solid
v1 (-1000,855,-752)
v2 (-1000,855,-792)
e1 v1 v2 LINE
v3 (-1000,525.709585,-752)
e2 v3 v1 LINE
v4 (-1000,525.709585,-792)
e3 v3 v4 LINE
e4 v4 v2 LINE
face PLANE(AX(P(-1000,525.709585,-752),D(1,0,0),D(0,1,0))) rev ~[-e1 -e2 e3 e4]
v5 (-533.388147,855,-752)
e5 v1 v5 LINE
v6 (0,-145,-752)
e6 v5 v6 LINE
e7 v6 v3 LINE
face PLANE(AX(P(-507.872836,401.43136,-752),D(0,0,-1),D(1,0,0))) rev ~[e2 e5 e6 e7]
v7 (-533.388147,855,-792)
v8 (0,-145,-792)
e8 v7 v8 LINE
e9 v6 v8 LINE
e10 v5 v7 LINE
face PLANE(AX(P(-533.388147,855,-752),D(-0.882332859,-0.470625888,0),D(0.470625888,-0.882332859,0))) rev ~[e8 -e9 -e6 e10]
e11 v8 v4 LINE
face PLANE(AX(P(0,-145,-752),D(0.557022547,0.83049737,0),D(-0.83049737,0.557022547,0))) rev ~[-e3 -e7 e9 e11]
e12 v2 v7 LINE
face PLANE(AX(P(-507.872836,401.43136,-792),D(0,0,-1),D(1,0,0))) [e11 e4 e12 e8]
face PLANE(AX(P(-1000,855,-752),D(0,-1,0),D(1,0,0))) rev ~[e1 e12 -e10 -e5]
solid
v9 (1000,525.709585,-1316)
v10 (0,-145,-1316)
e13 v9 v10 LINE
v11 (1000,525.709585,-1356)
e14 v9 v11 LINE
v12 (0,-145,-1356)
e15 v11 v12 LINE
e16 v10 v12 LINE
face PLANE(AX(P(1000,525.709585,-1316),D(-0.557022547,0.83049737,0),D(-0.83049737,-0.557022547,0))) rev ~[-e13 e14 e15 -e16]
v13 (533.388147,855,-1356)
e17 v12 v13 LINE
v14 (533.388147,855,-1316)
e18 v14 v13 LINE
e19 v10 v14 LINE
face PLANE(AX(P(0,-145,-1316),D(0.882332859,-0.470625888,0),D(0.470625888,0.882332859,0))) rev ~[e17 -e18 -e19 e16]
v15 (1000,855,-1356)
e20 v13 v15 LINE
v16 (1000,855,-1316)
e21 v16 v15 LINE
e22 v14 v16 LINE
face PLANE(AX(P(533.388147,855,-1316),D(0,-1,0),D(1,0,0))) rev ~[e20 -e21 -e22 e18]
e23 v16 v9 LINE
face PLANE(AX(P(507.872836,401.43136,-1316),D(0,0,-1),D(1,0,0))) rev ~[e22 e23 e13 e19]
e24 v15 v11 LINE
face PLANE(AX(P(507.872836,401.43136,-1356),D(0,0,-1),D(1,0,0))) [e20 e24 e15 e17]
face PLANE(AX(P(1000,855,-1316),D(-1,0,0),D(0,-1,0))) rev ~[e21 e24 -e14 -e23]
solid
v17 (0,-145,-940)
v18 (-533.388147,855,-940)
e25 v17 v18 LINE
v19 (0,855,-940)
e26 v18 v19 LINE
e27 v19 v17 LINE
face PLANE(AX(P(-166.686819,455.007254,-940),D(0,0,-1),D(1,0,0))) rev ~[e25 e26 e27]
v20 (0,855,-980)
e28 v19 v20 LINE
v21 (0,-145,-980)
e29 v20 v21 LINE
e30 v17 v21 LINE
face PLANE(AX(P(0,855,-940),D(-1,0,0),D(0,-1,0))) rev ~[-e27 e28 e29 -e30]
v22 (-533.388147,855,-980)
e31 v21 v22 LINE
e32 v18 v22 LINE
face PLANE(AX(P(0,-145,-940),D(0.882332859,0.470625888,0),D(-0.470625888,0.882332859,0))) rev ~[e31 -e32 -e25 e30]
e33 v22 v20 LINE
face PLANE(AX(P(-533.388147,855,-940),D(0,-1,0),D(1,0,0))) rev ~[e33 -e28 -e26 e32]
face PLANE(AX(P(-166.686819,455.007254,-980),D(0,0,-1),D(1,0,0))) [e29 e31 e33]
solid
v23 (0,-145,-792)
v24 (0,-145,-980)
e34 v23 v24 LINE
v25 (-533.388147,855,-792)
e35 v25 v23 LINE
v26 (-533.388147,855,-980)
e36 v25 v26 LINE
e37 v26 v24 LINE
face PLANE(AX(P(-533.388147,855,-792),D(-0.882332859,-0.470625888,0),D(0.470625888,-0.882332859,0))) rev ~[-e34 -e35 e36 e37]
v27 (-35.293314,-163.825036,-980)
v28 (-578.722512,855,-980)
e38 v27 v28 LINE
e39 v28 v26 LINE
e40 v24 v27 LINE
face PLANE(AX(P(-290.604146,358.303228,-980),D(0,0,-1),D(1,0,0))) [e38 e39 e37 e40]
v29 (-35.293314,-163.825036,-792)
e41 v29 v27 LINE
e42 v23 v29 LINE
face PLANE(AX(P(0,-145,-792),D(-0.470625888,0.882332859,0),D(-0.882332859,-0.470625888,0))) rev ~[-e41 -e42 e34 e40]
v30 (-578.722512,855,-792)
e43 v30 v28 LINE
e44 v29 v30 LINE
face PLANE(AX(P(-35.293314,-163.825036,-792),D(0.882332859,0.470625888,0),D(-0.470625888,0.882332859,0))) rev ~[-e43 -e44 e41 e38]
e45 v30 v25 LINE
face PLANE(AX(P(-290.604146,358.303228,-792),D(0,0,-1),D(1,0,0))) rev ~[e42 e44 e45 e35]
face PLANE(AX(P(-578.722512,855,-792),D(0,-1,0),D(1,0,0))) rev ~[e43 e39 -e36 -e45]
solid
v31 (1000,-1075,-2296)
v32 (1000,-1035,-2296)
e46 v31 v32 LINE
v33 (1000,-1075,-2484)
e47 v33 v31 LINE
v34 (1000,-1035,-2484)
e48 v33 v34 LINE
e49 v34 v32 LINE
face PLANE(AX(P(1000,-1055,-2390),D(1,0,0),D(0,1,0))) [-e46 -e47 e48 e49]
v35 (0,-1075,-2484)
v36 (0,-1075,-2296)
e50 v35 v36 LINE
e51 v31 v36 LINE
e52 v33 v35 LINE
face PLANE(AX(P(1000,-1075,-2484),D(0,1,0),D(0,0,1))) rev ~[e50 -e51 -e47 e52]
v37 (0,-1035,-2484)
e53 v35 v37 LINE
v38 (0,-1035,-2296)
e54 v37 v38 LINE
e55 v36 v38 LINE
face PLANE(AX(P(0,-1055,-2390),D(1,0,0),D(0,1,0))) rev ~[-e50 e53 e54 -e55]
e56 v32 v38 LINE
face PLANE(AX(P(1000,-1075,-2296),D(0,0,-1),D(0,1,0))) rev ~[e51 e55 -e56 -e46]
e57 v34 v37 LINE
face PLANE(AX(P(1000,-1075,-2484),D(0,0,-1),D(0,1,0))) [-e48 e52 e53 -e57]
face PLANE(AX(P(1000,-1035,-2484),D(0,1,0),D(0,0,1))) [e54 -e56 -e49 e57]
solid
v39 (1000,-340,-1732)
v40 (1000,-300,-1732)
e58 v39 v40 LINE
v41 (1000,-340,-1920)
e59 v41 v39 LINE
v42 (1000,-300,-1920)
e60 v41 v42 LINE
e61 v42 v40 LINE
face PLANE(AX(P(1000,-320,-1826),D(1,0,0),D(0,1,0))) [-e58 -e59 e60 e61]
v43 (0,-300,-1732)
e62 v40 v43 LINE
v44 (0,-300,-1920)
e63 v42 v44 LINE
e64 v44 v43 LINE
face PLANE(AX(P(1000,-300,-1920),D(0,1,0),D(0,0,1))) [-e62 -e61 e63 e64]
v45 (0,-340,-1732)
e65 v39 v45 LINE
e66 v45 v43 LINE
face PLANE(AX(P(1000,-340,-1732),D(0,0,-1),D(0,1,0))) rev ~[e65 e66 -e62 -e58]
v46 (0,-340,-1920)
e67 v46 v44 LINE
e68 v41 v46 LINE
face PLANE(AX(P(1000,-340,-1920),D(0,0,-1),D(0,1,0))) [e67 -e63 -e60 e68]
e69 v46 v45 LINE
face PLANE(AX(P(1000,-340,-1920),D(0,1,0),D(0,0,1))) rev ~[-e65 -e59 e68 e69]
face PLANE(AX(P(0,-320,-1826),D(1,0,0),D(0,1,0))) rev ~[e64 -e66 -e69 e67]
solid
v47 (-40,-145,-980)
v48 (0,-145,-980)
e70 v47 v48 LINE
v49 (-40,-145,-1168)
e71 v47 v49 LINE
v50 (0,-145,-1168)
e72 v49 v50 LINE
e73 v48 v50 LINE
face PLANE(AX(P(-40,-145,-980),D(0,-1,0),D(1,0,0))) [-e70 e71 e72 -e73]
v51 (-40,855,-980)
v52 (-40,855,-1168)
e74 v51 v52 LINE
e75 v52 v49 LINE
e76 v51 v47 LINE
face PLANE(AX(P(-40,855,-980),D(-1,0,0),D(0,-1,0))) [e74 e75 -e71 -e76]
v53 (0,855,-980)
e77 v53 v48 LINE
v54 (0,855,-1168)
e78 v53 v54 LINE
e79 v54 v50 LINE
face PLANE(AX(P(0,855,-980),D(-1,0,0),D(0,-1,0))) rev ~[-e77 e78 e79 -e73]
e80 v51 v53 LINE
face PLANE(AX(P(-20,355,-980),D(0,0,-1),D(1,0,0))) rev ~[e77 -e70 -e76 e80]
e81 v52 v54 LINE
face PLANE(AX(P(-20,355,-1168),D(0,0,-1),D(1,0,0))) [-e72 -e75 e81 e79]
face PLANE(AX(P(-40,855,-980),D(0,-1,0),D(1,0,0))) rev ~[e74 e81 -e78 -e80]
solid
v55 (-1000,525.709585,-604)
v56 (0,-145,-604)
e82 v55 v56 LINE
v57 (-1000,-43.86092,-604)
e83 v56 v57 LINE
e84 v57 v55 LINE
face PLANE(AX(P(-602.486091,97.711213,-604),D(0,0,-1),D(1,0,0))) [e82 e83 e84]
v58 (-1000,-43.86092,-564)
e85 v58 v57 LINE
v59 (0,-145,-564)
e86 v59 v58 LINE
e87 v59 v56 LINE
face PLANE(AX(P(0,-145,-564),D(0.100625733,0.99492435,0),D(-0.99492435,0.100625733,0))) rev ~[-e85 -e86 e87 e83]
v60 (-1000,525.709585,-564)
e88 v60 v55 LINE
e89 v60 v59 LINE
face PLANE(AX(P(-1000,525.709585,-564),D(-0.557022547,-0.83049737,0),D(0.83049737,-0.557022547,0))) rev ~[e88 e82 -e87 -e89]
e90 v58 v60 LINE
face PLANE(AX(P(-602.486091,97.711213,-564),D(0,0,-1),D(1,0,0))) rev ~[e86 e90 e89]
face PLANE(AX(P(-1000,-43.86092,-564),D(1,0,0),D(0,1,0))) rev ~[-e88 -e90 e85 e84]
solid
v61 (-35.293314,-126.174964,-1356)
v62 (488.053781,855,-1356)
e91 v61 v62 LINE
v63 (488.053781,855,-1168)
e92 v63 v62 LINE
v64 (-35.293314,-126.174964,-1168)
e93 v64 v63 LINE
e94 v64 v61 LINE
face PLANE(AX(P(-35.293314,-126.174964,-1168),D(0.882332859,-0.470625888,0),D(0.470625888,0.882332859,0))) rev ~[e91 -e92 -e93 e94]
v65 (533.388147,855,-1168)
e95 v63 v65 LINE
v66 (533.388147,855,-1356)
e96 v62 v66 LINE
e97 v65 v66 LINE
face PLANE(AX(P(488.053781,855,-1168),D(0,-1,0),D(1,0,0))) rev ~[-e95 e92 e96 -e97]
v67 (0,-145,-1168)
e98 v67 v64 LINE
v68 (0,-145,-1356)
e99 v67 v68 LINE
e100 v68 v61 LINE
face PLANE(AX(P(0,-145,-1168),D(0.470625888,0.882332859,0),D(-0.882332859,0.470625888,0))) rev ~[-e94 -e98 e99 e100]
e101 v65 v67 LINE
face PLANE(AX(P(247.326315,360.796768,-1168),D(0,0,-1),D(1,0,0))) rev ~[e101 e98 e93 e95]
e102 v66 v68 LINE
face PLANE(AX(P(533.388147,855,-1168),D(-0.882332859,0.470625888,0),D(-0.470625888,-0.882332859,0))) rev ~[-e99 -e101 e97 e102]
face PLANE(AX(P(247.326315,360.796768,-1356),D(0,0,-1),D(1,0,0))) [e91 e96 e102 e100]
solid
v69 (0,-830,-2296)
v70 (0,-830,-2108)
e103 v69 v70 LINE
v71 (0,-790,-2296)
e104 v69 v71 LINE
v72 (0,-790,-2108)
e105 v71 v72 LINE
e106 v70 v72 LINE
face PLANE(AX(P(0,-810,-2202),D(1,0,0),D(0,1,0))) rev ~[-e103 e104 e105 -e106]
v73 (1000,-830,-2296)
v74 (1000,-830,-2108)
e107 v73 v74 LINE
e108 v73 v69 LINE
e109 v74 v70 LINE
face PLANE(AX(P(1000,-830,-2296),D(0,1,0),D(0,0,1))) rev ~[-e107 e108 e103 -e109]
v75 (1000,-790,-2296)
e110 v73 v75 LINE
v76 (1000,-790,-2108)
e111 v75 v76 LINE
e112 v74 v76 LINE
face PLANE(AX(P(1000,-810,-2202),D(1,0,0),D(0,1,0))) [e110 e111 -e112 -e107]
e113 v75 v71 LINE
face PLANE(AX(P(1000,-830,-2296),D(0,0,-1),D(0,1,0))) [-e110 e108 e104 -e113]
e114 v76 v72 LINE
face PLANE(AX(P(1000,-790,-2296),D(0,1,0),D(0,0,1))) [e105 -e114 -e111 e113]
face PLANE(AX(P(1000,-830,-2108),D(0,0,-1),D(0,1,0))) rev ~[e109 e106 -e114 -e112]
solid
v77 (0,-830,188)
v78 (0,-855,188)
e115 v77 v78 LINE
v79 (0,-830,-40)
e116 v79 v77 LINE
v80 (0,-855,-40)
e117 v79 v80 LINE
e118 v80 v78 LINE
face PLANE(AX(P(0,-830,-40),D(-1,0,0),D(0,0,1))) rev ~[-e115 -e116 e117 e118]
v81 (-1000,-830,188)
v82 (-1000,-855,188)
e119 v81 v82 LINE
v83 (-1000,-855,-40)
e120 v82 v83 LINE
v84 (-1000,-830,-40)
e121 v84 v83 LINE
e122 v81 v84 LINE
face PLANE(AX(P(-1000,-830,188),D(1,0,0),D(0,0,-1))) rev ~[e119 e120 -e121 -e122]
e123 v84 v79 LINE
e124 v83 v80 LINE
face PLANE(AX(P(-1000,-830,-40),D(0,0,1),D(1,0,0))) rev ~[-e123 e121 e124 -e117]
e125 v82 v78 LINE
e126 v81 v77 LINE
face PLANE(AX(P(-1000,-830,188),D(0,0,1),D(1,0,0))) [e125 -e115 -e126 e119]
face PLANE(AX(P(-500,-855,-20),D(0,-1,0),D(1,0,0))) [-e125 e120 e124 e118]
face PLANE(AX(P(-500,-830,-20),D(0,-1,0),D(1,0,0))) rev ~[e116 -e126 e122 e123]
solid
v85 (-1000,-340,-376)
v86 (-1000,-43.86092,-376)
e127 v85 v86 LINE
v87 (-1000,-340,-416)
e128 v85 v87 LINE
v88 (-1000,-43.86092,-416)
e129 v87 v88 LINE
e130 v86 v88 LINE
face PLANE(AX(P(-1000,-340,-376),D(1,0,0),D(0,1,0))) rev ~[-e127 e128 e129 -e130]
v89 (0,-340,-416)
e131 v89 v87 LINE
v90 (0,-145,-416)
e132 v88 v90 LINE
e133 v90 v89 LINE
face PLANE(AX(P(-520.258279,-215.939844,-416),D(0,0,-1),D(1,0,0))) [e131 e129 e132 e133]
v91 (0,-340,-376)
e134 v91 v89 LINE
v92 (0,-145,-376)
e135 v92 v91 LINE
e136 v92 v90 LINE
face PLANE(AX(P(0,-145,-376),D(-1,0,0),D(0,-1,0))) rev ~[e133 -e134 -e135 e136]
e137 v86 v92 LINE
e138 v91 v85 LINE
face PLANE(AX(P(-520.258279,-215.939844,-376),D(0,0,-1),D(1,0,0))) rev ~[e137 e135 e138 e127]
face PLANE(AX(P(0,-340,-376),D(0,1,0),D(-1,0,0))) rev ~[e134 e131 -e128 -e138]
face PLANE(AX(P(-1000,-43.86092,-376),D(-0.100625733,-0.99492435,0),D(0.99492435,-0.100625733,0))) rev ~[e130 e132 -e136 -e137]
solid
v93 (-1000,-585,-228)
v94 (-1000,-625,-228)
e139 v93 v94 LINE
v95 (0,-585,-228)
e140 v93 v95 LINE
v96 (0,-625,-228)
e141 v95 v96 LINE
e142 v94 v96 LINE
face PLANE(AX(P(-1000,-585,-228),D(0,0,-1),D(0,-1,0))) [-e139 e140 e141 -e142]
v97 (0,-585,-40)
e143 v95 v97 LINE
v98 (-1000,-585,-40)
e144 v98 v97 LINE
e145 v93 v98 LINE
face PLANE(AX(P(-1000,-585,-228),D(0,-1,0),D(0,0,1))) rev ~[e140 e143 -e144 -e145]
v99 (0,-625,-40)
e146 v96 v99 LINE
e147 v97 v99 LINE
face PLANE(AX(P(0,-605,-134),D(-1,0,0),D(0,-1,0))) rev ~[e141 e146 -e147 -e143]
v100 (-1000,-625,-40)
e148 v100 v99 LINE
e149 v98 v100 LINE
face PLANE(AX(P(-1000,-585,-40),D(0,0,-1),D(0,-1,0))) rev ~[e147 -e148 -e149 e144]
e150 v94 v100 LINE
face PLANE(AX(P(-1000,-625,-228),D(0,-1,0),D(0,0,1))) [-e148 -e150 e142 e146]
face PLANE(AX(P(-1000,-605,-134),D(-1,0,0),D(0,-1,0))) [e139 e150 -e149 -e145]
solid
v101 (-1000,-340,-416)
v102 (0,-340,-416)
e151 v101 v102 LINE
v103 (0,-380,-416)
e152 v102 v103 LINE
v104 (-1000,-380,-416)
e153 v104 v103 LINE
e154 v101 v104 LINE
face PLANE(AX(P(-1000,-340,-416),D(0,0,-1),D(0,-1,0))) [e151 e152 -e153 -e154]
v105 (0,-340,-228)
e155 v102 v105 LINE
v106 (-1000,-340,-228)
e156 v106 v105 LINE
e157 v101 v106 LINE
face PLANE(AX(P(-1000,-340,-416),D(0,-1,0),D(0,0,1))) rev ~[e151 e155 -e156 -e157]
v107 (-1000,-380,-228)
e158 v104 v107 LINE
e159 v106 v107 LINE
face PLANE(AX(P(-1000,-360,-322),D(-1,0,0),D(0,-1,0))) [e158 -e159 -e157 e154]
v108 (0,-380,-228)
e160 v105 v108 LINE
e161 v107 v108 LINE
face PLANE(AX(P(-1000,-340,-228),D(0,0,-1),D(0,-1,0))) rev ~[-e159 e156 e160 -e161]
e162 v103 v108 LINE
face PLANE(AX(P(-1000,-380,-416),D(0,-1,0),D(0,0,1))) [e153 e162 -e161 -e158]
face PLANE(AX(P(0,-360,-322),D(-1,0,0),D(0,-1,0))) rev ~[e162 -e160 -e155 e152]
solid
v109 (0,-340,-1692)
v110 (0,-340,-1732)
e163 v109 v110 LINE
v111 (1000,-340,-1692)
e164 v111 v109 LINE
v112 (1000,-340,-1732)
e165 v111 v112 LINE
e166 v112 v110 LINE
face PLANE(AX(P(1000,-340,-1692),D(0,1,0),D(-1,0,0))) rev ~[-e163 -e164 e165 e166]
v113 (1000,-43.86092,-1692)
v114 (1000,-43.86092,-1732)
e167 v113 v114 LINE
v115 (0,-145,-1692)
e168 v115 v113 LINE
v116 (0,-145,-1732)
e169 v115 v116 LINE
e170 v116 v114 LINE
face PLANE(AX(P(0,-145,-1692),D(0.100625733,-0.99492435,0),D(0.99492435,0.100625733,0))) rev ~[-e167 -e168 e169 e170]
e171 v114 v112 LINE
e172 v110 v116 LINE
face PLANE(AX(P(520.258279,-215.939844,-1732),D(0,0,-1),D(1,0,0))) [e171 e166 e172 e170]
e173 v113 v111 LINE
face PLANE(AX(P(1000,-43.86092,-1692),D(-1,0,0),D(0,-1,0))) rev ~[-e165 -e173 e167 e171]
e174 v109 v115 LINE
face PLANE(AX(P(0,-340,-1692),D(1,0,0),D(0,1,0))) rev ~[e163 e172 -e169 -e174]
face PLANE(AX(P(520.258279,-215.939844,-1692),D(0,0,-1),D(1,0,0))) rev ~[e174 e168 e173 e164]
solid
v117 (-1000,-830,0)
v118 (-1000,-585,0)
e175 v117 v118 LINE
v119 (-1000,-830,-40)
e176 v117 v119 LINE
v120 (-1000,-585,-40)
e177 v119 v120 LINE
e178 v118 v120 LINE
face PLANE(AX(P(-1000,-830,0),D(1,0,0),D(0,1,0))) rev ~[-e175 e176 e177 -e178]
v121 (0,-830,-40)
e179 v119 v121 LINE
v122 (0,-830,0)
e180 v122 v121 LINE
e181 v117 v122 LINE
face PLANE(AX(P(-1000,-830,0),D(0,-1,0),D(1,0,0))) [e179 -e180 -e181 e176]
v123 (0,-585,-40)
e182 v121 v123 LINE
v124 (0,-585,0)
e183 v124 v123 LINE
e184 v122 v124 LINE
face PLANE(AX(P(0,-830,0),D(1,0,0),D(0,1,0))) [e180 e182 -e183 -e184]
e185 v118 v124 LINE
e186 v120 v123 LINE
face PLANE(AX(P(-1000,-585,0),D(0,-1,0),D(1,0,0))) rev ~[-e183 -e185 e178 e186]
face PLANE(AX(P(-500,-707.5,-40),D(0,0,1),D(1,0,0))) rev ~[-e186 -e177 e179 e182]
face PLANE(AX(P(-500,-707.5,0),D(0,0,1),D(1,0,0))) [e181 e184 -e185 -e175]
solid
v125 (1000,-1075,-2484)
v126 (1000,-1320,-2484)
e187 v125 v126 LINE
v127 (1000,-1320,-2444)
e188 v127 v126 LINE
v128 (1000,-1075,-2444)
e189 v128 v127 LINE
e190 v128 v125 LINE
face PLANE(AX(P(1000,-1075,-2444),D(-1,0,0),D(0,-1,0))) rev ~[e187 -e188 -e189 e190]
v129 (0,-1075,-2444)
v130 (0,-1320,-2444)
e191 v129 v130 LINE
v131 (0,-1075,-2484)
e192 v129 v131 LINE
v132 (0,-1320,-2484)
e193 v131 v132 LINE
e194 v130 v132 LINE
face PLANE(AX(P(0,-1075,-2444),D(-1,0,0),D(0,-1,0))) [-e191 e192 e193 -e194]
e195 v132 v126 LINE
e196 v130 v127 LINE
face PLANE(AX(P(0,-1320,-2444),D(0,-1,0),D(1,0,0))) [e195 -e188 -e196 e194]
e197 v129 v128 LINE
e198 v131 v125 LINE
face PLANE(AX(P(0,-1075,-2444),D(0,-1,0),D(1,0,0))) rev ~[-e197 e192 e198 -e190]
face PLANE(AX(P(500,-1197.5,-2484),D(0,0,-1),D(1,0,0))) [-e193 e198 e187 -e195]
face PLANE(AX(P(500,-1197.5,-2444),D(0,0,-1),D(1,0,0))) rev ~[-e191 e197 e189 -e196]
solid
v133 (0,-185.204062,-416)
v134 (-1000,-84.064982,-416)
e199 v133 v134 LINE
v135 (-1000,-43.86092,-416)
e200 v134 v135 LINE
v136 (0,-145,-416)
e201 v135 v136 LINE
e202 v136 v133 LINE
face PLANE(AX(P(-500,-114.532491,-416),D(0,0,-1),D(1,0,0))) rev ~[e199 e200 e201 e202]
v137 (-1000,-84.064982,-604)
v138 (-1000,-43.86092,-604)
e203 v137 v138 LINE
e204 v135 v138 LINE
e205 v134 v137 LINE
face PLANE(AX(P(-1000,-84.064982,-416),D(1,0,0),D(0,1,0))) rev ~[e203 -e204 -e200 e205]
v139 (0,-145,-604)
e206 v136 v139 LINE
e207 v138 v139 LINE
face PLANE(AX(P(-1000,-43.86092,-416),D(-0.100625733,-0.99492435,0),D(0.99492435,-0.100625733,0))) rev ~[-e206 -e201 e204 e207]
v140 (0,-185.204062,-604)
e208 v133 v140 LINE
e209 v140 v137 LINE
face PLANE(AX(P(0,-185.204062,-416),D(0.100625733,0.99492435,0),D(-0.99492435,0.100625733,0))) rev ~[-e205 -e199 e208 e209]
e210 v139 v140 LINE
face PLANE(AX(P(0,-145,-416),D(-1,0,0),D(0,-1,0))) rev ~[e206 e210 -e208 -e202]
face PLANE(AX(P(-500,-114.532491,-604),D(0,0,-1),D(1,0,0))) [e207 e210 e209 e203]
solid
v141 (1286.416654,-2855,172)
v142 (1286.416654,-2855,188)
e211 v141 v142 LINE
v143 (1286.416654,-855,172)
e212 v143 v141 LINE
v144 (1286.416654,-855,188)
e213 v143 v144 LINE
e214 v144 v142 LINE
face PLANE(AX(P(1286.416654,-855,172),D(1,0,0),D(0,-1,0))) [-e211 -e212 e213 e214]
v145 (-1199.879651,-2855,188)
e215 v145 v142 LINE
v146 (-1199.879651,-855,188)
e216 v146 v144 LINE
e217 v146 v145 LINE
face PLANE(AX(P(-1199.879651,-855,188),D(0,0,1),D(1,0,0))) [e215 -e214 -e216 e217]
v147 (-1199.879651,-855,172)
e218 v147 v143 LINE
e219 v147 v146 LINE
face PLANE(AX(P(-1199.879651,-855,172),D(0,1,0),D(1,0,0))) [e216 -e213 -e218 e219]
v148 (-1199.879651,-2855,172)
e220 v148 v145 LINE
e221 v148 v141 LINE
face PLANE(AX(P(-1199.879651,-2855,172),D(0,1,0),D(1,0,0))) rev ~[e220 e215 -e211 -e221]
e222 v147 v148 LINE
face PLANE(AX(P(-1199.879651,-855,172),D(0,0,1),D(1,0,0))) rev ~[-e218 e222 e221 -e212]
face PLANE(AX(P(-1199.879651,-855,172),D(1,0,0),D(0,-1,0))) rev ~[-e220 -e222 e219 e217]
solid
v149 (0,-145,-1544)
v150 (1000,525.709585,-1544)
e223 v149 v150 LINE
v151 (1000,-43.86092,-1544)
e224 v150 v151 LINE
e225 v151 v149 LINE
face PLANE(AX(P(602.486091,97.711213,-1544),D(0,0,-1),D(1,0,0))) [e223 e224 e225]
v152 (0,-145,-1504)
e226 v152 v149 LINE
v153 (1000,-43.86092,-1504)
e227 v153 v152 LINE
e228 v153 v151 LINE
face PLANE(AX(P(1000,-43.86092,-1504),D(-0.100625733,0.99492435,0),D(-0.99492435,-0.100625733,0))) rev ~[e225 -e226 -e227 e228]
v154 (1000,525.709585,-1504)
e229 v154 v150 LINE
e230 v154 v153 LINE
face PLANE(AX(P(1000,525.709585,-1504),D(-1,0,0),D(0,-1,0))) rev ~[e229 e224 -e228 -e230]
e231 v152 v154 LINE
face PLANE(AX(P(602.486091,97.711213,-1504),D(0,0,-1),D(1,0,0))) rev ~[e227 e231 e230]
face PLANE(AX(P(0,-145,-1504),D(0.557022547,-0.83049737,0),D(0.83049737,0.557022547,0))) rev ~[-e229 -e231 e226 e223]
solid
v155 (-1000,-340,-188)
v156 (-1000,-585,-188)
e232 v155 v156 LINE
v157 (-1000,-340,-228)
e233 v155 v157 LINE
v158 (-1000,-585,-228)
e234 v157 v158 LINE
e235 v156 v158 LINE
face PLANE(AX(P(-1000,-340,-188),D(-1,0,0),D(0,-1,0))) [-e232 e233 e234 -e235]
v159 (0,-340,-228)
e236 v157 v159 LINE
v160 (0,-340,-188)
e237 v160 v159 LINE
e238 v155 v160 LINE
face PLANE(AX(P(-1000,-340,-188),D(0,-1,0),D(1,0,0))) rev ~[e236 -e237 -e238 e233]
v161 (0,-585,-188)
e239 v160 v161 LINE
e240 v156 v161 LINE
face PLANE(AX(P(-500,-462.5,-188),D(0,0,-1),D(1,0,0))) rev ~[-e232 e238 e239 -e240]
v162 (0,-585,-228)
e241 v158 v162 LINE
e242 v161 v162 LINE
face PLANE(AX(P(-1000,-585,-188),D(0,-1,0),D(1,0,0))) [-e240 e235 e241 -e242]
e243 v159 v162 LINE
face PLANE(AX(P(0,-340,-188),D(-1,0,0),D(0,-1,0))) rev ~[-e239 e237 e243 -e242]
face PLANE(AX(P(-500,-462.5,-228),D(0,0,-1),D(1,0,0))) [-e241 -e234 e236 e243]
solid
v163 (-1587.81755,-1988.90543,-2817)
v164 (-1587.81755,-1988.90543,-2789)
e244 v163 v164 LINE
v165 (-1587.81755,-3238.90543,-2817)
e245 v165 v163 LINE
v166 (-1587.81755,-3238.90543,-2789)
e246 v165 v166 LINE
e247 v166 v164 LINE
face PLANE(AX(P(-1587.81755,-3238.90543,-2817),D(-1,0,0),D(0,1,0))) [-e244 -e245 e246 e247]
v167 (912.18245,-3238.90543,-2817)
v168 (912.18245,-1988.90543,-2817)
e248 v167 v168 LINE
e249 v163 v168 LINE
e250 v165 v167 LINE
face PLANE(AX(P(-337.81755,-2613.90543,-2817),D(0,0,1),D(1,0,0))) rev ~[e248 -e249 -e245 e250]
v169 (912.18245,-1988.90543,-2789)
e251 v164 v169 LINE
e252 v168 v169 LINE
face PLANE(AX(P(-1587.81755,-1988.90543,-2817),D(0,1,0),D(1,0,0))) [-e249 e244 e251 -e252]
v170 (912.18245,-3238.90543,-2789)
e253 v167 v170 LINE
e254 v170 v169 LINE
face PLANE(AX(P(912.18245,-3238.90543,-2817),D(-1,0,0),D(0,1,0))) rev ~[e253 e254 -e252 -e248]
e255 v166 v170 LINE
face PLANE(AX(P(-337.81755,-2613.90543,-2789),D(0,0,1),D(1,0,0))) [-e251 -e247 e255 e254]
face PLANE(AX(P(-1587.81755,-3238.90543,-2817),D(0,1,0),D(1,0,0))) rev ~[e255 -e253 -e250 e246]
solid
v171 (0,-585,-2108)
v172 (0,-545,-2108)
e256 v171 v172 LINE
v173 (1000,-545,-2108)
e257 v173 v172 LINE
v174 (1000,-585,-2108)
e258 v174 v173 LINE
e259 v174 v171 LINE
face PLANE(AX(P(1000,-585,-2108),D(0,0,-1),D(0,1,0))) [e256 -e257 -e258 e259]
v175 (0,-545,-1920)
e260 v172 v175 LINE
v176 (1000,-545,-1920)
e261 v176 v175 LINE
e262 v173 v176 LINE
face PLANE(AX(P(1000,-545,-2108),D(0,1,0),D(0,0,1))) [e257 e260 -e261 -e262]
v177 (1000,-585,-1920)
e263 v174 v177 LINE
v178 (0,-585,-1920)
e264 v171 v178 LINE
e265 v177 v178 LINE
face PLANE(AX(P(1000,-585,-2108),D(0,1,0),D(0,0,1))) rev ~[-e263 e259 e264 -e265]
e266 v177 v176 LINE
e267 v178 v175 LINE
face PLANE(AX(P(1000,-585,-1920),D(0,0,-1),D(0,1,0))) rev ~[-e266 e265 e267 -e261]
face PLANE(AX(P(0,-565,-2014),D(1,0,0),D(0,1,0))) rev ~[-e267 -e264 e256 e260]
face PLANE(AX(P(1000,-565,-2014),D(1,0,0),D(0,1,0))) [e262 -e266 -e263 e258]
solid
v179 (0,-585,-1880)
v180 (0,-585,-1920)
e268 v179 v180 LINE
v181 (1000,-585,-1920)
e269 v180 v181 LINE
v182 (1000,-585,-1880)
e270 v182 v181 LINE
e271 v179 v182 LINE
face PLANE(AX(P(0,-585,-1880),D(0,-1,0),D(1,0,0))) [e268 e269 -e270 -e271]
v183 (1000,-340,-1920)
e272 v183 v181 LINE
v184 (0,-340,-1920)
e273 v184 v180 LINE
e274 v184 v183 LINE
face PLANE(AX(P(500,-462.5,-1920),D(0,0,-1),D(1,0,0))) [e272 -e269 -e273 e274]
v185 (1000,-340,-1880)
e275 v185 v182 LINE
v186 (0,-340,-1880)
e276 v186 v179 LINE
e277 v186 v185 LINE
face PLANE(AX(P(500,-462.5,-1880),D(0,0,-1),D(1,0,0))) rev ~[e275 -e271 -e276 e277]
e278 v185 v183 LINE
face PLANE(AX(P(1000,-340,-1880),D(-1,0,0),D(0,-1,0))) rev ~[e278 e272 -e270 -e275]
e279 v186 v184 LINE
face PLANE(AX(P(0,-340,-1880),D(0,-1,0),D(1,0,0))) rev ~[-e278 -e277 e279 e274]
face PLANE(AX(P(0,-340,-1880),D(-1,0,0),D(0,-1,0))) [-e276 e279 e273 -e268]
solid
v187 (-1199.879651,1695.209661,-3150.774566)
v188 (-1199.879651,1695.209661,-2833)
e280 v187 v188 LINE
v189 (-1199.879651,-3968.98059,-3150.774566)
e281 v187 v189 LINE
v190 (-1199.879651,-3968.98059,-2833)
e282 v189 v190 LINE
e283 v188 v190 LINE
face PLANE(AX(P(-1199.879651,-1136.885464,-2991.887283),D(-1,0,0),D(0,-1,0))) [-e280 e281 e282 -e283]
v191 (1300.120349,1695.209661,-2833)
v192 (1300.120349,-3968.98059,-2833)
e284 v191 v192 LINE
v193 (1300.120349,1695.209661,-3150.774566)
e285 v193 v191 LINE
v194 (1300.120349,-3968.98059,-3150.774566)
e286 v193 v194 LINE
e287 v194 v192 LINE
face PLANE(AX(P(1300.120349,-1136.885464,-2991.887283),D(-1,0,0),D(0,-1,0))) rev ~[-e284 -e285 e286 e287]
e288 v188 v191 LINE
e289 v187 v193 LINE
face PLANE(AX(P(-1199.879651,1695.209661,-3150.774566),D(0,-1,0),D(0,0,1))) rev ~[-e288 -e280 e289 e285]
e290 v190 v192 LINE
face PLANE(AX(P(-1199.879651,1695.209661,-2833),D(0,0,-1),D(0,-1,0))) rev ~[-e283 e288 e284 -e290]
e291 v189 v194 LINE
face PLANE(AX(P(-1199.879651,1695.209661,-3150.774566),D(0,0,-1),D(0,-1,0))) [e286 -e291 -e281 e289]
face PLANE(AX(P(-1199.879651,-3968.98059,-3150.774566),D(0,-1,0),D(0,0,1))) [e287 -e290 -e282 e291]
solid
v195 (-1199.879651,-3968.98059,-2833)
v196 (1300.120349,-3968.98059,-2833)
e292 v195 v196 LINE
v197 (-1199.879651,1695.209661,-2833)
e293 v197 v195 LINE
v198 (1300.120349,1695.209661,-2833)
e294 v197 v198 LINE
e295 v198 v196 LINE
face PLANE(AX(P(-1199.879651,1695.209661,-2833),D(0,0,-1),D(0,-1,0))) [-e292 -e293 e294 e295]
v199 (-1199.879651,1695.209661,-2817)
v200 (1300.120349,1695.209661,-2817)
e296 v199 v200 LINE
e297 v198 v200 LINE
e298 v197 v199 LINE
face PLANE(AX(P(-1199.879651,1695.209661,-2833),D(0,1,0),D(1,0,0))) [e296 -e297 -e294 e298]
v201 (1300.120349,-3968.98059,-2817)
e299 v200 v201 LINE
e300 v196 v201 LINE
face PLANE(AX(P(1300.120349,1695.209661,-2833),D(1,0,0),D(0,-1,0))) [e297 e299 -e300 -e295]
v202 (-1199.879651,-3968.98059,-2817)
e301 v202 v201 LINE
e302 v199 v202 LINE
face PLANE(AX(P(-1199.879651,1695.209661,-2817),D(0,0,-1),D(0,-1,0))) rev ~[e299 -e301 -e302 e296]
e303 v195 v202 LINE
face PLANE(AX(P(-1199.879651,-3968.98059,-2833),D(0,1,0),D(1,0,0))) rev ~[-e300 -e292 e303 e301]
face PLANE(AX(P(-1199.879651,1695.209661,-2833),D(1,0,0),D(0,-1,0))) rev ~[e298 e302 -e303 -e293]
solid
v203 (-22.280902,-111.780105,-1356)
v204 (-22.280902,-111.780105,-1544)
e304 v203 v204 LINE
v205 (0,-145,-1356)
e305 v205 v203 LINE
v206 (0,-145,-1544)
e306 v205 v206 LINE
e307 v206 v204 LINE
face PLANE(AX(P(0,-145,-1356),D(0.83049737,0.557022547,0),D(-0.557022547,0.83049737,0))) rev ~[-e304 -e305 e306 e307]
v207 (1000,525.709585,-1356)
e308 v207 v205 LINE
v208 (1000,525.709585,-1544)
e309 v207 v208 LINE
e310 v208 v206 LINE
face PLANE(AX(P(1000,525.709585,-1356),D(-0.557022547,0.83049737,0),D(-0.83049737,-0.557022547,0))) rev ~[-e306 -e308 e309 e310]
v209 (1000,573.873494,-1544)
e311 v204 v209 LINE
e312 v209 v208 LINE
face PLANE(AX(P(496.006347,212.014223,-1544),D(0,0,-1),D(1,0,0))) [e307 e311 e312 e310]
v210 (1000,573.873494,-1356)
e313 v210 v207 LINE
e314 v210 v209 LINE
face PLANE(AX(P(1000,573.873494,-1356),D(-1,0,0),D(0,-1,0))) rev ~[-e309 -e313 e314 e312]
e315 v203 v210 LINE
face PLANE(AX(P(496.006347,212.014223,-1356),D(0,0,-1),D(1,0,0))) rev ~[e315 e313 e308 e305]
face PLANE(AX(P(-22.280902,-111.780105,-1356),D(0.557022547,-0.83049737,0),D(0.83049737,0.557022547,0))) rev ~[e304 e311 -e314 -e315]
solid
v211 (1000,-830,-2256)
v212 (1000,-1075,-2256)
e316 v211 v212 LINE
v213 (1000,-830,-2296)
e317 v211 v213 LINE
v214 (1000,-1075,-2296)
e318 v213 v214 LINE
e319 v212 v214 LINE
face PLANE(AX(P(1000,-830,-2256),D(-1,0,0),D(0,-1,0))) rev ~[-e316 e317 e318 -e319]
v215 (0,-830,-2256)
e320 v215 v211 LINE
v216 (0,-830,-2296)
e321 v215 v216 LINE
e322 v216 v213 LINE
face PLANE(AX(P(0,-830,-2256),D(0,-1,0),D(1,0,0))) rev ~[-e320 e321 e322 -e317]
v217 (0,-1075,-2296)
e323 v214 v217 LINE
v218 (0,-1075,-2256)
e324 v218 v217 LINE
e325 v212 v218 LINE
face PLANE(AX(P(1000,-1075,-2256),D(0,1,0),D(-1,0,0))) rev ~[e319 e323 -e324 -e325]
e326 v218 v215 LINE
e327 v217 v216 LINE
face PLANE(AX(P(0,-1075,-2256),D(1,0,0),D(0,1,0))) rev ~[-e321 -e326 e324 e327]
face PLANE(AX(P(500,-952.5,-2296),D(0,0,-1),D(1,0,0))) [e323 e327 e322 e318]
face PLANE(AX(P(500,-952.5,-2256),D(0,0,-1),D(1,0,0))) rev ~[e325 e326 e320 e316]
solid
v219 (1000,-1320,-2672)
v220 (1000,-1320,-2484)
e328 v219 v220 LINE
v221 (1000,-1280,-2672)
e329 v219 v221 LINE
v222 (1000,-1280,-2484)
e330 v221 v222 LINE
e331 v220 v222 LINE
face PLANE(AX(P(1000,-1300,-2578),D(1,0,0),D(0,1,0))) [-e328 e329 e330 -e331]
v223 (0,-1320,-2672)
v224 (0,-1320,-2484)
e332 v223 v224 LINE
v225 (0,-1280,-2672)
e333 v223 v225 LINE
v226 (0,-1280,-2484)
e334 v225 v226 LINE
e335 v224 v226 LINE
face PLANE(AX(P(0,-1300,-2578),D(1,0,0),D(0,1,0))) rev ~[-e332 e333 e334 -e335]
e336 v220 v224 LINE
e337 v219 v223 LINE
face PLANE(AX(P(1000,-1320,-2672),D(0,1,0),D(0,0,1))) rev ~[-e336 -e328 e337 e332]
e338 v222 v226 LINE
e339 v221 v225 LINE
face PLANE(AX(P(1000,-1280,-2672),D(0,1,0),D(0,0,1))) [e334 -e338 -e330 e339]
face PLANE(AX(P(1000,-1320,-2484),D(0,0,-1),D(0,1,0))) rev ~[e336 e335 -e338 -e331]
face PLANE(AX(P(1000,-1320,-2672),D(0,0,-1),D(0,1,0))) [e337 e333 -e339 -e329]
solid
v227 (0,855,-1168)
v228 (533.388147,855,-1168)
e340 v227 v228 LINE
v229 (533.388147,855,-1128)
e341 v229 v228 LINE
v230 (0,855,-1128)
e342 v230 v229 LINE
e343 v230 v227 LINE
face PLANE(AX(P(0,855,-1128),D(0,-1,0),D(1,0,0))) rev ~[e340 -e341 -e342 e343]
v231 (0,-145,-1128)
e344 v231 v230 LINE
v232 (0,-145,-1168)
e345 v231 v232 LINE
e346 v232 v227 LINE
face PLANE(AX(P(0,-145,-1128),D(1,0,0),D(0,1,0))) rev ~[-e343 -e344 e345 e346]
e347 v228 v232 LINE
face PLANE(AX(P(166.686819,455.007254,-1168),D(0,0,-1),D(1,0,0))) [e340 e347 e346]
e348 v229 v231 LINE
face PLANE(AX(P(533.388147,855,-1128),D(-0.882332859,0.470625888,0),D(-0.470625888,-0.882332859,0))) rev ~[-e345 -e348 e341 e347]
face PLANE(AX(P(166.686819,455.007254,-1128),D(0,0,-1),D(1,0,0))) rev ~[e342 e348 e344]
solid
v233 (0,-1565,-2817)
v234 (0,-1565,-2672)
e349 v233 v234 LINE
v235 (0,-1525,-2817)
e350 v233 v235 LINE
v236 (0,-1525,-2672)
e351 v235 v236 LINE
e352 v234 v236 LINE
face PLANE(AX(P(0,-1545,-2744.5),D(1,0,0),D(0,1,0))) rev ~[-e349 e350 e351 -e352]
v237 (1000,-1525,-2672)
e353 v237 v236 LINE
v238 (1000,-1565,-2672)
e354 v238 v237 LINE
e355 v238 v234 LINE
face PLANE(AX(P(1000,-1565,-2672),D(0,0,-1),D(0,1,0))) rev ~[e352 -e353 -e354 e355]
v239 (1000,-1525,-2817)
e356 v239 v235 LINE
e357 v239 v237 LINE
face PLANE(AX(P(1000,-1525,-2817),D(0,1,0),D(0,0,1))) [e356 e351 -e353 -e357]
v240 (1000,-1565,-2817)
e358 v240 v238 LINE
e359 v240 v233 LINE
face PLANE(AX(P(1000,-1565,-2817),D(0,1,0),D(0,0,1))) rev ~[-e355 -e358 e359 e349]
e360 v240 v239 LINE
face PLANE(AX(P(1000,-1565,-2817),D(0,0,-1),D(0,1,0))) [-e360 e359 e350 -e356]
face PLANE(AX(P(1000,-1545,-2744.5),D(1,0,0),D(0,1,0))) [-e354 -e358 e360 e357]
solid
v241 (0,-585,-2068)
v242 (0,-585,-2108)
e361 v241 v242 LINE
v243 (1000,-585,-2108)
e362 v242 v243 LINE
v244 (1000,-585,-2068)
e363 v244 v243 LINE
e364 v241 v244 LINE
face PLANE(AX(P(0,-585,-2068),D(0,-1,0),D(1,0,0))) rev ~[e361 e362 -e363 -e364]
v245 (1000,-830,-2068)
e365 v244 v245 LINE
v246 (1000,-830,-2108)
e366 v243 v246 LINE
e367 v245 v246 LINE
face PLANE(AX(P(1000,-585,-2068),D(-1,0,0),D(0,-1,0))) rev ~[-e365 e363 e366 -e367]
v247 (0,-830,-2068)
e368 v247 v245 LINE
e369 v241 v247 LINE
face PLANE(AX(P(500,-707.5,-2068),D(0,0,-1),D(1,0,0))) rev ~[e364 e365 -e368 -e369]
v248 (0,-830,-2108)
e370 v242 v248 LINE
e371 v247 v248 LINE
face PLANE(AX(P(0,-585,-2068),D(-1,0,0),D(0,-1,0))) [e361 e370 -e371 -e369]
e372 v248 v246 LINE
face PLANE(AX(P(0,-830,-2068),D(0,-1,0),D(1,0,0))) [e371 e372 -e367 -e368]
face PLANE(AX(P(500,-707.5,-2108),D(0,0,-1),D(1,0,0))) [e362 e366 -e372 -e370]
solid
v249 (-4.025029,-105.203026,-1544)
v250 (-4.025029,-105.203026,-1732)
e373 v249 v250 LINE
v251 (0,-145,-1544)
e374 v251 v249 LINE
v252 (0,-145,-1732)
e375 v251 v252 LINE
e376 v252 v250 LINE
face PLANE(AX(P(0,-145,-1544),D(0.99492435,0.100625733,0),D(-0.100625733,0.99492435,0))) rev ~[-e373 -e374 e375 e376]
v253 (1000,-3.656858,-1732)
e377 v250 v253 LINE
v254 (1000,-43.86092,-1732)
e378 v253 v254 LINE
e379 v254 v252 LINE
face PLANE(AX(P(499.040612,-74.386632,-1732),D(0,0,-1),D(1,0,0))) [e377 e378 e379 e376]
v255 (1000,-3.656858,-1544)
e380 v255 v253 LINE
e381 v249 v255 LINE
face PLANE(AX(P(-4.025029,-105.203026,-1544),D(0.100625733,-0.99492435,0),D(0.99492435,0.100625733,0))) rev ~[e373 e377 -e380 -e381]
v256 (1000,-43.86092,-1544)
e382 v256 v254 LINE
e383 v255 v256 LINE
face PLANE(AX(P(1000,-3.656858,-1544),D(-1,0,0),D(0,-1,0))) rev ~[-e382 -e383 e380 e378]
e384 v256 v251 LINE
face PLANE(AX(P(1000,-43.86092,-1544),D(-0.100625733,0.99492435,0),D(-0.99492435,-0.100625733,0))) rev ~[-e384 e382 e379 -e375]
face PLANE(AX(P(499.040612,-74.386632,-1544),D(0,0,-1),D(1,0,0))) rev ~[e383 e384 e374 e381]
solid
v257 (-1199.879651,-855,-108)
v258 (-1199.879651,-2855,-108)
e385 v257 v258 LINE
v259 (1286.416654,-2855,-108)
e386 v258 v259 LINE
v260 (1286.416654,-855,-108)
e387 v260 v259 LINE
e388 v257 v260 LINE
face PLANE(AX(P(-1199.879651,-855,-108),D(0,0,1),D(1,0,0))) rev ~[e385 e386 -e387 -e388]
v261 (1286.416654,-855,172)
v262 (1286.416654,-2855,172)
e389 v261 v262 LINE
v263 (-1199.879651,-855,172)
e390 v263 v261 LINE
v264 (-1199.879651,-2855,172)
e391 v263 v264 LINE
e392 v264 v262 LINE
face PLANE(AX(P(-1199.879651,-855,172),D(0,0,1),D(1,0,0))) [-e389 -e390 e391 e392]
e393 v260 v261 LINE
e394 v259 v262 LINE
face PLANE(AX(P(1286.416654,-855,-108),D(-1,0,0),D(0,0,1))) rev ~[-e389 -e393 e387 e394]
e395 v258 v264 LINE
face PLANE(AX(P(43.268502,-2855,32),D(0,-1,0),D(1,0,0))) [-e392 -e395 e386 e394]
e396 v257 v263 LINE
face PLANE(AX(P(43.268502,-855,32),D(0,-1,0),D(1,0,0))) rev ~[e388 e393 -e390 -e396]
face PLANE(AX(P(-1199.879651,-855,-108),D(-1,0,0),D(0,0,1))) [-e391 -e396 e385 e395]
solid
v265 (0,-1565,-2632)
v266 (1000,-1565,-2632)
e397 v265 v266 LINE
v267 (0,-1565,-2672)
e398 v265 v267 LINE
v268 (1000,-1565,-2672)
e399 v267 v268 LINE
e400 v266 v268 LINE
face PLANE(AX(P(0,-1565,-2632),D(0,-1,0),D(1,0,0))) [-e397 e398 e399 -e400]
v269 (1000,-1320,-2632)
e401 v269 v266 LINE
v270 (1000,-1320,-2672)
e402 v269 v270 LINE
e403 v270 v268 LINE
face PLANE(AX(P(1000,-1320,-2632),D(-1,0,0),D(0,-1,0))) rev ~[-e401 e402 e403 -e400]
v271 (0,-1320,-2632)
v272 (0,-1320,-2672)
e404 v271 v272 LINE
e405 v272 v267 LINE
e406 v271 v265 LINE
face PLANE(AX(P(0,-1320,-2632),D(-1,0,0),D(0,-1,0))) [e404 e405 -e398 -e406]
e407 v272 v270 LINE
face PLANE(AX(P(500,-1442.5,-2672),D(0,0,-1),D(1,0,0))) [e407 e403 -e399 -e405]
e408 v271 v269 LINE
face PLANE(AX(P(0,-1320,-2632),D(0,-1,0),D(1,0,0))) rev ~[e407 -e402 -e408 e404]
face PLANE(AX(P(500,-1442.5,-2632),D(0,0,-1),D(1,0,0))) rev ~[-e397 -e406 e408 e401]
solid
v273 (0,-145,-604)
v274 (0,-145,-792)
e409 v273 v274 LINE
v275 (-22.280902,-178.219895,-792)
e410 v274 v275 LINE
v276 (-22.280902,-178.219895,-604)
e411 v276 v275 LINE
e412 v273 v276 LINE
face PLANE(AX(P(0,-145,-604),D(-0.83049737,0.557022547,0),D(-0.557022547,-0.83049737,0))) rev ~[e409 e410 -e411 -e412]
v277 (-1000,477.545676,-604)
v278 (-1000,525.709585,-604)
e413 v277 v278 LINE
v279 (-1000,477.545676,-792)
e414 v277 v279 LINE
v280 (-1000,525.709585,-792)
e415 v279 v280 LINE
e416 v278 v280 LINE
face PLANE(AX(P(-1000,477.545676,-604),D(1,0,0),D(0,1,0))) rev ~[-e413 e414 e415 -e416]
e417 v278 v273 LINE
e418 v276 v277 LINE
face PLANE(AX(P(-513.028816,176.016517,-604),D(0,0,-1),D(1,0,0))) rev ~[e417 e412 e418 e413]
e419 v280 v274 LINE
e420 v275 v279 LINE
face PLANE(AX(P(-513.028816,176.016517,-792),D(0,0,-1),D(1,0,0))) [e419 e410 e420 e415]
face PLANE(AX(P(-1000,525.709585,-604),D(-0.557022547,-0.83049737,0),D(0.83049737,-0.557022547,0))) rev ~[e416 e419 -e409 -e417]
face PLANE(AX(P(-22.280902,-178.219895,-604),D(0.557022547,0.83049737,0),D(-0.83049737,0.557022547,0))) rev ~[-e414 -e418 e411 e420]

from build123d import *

# Parameters (mm, degrees)
F4_W      = 2486.2963052011
F4_H      = 280
F5_DEPTH  = 2000
F6_DEPTH  = 16
F7_W      = 5664.1902506969
F7_H      = 317.7745664499
F8_DEPTH  = 2500
F9_DEPTH  = 16
F2_W      = 1000
F2_H      = 245
F10_DEPTH = 40
F12_W     = 1000
F12_H     = 245
F13_DEPTH = 40
F16_DEPTH = 40
F19_DEPTH = 40
F22_DEPTH = 40
F25_DEPTH = 40
F28_DEPTH = 40
F31_DEPTH = 40
F34_DEPTH = 40
F37_DEPTH = 40
F39_W     = 1000
F39_H     = 245
F40_DEPTH = 40
F42_W     = 1000
F42_H     = 245
F43_DEPTH = 40
F46_DEPTH = 40
F48_W     = 1000
F48_H     = 245
F49_DEPTH = 40
F51_W     = 1000
F51_H     = 245
F52_DEPTH = 40
F53_W     = 1000
F53_H     = 40
F53_H_2   = 188
F54_DEPTH = 25
F55_W     = 40
F55_H     = 188
F56_DEPTH = 1000
F57_W     = 40
F57_H     = 188
F58_DEPTH = 1000
F60_DEPTH = 188
F62_DEPTH = 188
F64_DEPTH = 188
F65_W     = 40
F65_H     = 1000
F66_DEPTH = 188
F68_DEPTH = 188
F70_DEPTH = 188
F72_DEPTH = 188
F73_W     = 40
F73_H     = 188
F74_DEPTH = 1000
F73_H_2   = 145
F75_W     = 2500
F75_H     = 1250
F76_DEPTH = 28


with BuildPart() as f5:
    # F4 (on plane+point) → F5 (new body)
    with BuildSketch(Plane.XZ.offset(855)):
        with Locations((43.2685017586, 32)):
            Rectangle(F4_W, F4_H)
    extrude(amount=F5_DEPTH)


with BuildPart() as f6:
    # F6 (new): a face of the model
    f6_faces = [f5.part.faces().sort_by_distance(p)[0] for p in [
        (43.2685017586, -1855, 172),
    ]]
    extrude(f6_faces, amount=F6_DEPTH)


with BuildPart() as f8:
    # F7 (on face) → F8 (new body)
    with BuildSketch(Plane(origin=(-1199.879650842, 0, 0), x_dir=(0, -1, 0), z_dir=(-1, 0, 0))):
        with Locations((1136.8854641914, -2991.8872832249)):
            Rectangle(F7_W, F7_H)
    extrude(amount=-F8_DEPTH)


with BuildPart() as f9:
    # F9 (new): a face of the model
    f9_faces = [f8.part.faces().sort_by_distance(p)[0] for p in [
        (50.120349158, -1136.8854641914, -2833),
    ]]
    extrude(f9_faces, amount=F9_DEPTH)


with BuildPart() as f10:
    # F2 (on Top) → F10 (new body)
    with BuildSketch(Plane.XY):
        with Locations((-500, -707.5)):
            Rectangle(F2_W, F2_H)
    extrude(amount=-F10_DEPTH)


with BuildPart() as f13:
    # F12 (on offset) → F13 (new body)
    with BuildSketch(Plane(origin=(0, 0, -188), x_dir=(1, 0, 0), z_dir=(0, 0, -1))):
        with Locations((-500, 462.5)):
            Rectangle(F12_W, F12_H)
    extrude(amount=F13_DEPTH)


with BuildPart() as f16:
    # F15 (on offset) → F16 (new body)
    with BuildSketch(Plane(origin=(0, 0, -376), x_dir=(1, 0, 0), z_dir=(0, 0, -1))):
        Polygon((-1000, 340), (-1000, 43.8609200193), (-497.4621748888, 94.6871333065), (0, 145), (0, 340), align=None)
    extrude(amount=F16_DEPTH)


with BuildPart() as f19:
    # F18 (on offset) → F19 (new body)
    with BuildSketch(Plane(origin=(0, 0, -564), x_dir=(1, 0, 0), z_dir=(0, 0, -1))):
        Polygon((-415.248685246, -133.5112733831), (0, 145), (-497.4621748888, 94.6871333065), (-1000, 43.8609200193), (-1000, -525.7095850722), align=None)
    extrude(amount=F19_DEPTH)


with BuildPart() as f22:
    # F21 (on offset) → F22 (new body)
    with BuildSketch(Plane(origin=(0, 0, -752), x_dir=(1, 0, 0), z_dir=(0, 0, -1))):
        Polygon((-415.248685246, -133.5112733831), (-1000, -525.7095850722), (-1000, -855), (-533.3881466372, -855), (-235.3129440856, -296.1664293051), (0, 145), align=None)
    extrude(amount=F22_DEPTH)


with BuildPart() as f25:
    # F24 (on offset) → F25 (new body)
    with BuildSketch(Plane(origin=(0, 0, -940), x_dir=(1, 0, 0), z_dir=(0, 0, -1))):
        Polygon((-533.3881466372, -855), (0, -855), (0, 145), (-235.3129440856, -296.1664293051), align=None)
    extrude(amount=F25_DEPTH)


with BuildPart() as f28:
    # F27 (on offset) → F28 (new body)
    with BuildSketch(Plane(origin=(0, 0, -1128), x_dir=(1, 0, 0), z_dir=(0, 0, -1))):
        Polygon((0, -855), (533.3881466372, -855), (235.3129440856, -296.1664293051), (0, 145), align=None)
    extrude(amount=F28_DEPTH)


with BuildPart() as f31:
    # F30 (on offset) → F31 (new body)
    with BuildSketch(Plane(origin=(0, 0, -1316), x_dir=(1, 0, 0), z_dir=(0, 0, -1))):
        Polygon((415.248685246, -133.5112733831), (0, 145), (235.3129440856, -296.1664293051), (533.3881466372, -855), (1000, -855), (1000, -525.7095850722), align=None)
    extrude(amount=F31_DEPTH)


with BuildPart() as f34:
    # F33 (on offset) → F34 (new body)
    with BuildSketch(Plane(origin=(0, 0, -1504), x_dir=(1, 0, 0), z_dir=(0, 0, -1))):
        Polygon((497.4621748888, 94.6871333065), (0, 145), (415.248685246, -133.5112733831), (1000, -525.7095850722), (1000, 43.8609200193), align=None)
    extrude(amount=F34_DEPTH)


with BuildPart() as f37:
    # F36 (on offset) → F37 (new body)
    with BuildSketch(Plane(origin=(0, 0, -1692), x_dir=(1, 0, 0), z_dir=(0, 0, -1))):
        Polygon((497.4621748888, 94.6871333065), (1000, 43.8609200193), (1000, 340), (0, 340), (0, 145), align=None)
    extrude(amount=F37_DEPTH)


with BuildPart() as f40:
    # F39 (on offset) → F40 (new body)
    with BuildSketch(Plane(origin=(0, 0, -1880), x_dir=(1, 0, 0), z_dir=(0, 0, -1))):
        with Locations((500, 462.5)):
            Rectangle(F39_W, F39_H)
    extrude(amount=F40_DEPTH)


with BuildPart() as f43:
    # F42 (on offset) → F43 (new body)
    with BuildSketch(Plane(origin=(0, 0, -2068), x_dir=(1, 0, 0), z_dir=(0, 0, -1))):
        with Locations((500, 707.5)):
            Rectangle(F42_W, F42_H)
    extrude(amount=F43_DEPTH)


with BuildPart() as f46:
    # F45 (on offset) → F46 (new body)
    with BuildSketch(Plane(origin=(0, 0, -2256), x_dir=(1, 0, 0), z_dir=(0, 0, -1))):
        Polygon((0, 1075), (0, 855), (0, 830), (1000, 830), (1000, 855), (1000, 1075), align=None)
    extrude(amount=F46_DEPTH)


with BuildPart() as f49:
    # F48 (on offset) → F49 (new body)
    with BuildSketch(Plane(origin=(0, 0, -2444), x_dir=(1, 0, 0), z_dir=(0, 0, -1))):
        with Locations((500, 1197.5)):
            Rectangle(F48_W, F48_H)
    extrude(amount=F49_DEPTH)


with BuildPart() as f52:
    # F51 (on offset) → F52 (new body)
    with BuildSketch(Plane(origin=(0, 0, -2632), x_dir=(1, 0, 0), z_dir=(0, 0, -1))):
        with Locations((500, 1442.5)):
            Rectangle(F51_W, F51_H)
    extrude(amount=F52_DEPTH)


with BuildPart() as f54:
    # F53 (on face) → F54 (new body)
    with BuildSketch(Plane.XZ.offset(830)):
        with Locations((-500, -20)):
            Rectangle(F53_W, F53_H)
        with Locations((-500, 94)):
            Rectangle(F53_W, F53_H_2)
    extrude(amount=F54_DEPTH)


with BuildPart() as f56:
    # F55 (on face) → F56 (new body)
    with BuildSketch(Plane(origin=(-1000, 0, 0), x_dir=(0, -1, 0), z_dir=(-1, 0, 0))):
        with Locations((605, -134)):
            Rectangle(F55_W, F55_H)
    extrude(amount=-F56_DEPTH)


with BuildPart() as f58:
    # F57 (on face) → F58 (new body)
    with BuildSketch(Plane(origin=(-1000, 0, 0), x_dir=(0, -1, 0), z_dir=(-1, 0, 0))):
        with Locations((360, -322)):
            Rectangle(F57_W, F57_H)
    extrude(amount=-F58_DEPTH)


with BuildPart() as f60:
    # F59 (on face) → F60 (new body)
    with BuildSketch(Plane(origin=(0, 0, -416), x_dir=(1, 0, 0), z_dir=(0, 0, -1))):
        Polygon((-1000, 43.8609200193), (0, 145), (0, 185.204061755), (-1000, 84.0649817743), align=None)
    extrude(amount=F60_DEPTH)


with BuildPart() as f62:
    # F61 (on face) → F62 (new body)
    with BuildSketch(Plane(origin=(0, 0, -604), x_dir=(1, 0, 0), z_dir=(0, 0, -1))):
        Polygon((-1000, -525.7095850722), (0, 145), (-84.5618037413, 136.4474969681), (-1000, -477.5456758038), align=None)
        Polygon((-84.5618037413, 136.4474969681), (0, 145), (-22.2809018706, 178.2198948197), align=None)
    extrude(amount=F62_DEPTH)


with BuildPart() as f64:
    # F63 (on face) → F64 (new body)
    with BuildSketch(Plane(origin=(0, 0, -792), x_dir=(1, 0, 0), z_dir=(0, 0, -1))):
        Polygon((-533.3881466372, -855), (0, 145), (-70.5866286888, 97.6568715605), (-578.7225117917, -855), align=None)
        Polygon((-70.5866286888, 97.6568715605), (0, 145), (-35.2933143444, 163.8250355268), align=None)
    extrude(amount=F64_DEPTH)


with BuildPart() as f66:
    # F65 (on face) → F66 (new body)
    with BuildSketch(Plane(origin=(0, 0, -980), x_dir=(1, 0, 0), z_dir=(0, 0, -1))):
        with Locations((-20, -355)):
            Rectangle(F65_W, F65_H)
    extrude(amount=F66_DEPTH)


with BuildPart() as f68:
    # F67 (on face) → F68 (new body)
    with BuildSketch(Plane(origin=(0, 0, -1168), x_dir=(1, 0, 0), z_dir=(0, 0, -1))):
        Polygon((533.3881466372, -855), (0, 145), (-35.2933143444, 126.1749644732), (488.0537814828, -855), align=None)
    extrude(amount=F68_DEPTH)


with BuildPart() as f70:
    # F69 (on face) → F70 (new body)
    with BuildSketch(Plane(origin=(0, 0, -1356), x_dir=(1, 0, 0), z_dir=(0, 0, -1))):
        Polygon((1000, -573.8734943406), (1000, -525.7095850722), (0, 145), (-22.2809018706, 111.7801051803), align=None)
    extrude(amount=F70_DEPTH)


with BuildPart() as f72:
    # F71 (on face) → F72 (new body)
    with BuildSketch(Plane(origin=(0, 0, -1544), x_dir=(1, 0, 0), z_dir=(0, 0, -1))):
        Polygon((1000, 3.6568582643), (1000, 43.8609200193), (0, 145), (-4.0250293355, 105.2030260089), align=None)
    extrude(amount=F72_DEPTH)


with BuildPart() as f74:
    # F73 (on face) → F74 (new body)
    with BuildSketch(Plane.YZ.offset(1000)):
        with Locations((-565, -2014)):
            Rectangle(F73_W, F73_H)
    extrude(amount=-F74_DEPTH)


with BuildPart() as f74b:
    # F73 (on face) → F74, piece 2 (new body)
    with BuildSketch(Plane.YZ.offset(1000)):
        with Locations((-810, -2202)):
            Rectangle(F73_W, F73_H)
    extrude(amount=-F74_DEPTH)


with BuildPart() as f74c:
    # F73 (on face) → F74, piece 3 (new body)
    with BuildSketch(Plane.YZ.offset(1000)):
        with Locations((-1055, -2390)):
            Rectangle(F73_W, F73_H)
    extrude(amount=-F74_DEPTH)


with BuildPart() as f74d:
    # F73 (on face) → F74, piece 4 (new body)
    with BuildSketch(Plane.YZ.offset(1000)):
        with Locations((-1300, -2578)):
            Rectangle(F73_W, F73_H)
    extrude(amount=-F74_DEPTH)


with BuildPart() as f74e:
    # F73 (on face) → F74, piece 5 (new body)
    with BuildSketch(Plane.YZ.offset(1000)):
        with Locations((-1545, -2744.5)):
            Rectangle(F73_W, F73_H_2)
    extrude(amount=-F74_DEPTH)


with BuildPart() as f74f:
    # F73 (on face) → F74, piece 6 (new body)
    with BuildSketch(Plane.YZ.offset(1000)):
        with Locations((-320, -1826)):
            Rectangle(F73_W, F73_H)
    extrude(amount=-F74_DEPTH)


with BuildPart() as f76:
    # F75 (on face) → F76 (new body)
    with BuildSketch(Plane.XY.offset(-2817)):
        with Locations((-337.8175497055, -2613.9054298401)):
            Rectangle(F75_W, F75_H)
    extrude(amount=F76_DEPTH)


solid = Compound([f5.part, f6.part, f8.part, f9.part, f10.part, f13.part, f16.part, f19.part, f22.part, f25.part, f28.part, f31.part, f34.part, f37.part, f40.part, f43.part, f46.part, f49.part, f52.part, f54.part, f56.part, f58.part, f60.part, f62.part, f64.part, f66.part, f68.part, f70.part, f72.part, f74.part, f74b.part, f74c.part, f74d.part, f74e.part, f74f.part, f76.part])
